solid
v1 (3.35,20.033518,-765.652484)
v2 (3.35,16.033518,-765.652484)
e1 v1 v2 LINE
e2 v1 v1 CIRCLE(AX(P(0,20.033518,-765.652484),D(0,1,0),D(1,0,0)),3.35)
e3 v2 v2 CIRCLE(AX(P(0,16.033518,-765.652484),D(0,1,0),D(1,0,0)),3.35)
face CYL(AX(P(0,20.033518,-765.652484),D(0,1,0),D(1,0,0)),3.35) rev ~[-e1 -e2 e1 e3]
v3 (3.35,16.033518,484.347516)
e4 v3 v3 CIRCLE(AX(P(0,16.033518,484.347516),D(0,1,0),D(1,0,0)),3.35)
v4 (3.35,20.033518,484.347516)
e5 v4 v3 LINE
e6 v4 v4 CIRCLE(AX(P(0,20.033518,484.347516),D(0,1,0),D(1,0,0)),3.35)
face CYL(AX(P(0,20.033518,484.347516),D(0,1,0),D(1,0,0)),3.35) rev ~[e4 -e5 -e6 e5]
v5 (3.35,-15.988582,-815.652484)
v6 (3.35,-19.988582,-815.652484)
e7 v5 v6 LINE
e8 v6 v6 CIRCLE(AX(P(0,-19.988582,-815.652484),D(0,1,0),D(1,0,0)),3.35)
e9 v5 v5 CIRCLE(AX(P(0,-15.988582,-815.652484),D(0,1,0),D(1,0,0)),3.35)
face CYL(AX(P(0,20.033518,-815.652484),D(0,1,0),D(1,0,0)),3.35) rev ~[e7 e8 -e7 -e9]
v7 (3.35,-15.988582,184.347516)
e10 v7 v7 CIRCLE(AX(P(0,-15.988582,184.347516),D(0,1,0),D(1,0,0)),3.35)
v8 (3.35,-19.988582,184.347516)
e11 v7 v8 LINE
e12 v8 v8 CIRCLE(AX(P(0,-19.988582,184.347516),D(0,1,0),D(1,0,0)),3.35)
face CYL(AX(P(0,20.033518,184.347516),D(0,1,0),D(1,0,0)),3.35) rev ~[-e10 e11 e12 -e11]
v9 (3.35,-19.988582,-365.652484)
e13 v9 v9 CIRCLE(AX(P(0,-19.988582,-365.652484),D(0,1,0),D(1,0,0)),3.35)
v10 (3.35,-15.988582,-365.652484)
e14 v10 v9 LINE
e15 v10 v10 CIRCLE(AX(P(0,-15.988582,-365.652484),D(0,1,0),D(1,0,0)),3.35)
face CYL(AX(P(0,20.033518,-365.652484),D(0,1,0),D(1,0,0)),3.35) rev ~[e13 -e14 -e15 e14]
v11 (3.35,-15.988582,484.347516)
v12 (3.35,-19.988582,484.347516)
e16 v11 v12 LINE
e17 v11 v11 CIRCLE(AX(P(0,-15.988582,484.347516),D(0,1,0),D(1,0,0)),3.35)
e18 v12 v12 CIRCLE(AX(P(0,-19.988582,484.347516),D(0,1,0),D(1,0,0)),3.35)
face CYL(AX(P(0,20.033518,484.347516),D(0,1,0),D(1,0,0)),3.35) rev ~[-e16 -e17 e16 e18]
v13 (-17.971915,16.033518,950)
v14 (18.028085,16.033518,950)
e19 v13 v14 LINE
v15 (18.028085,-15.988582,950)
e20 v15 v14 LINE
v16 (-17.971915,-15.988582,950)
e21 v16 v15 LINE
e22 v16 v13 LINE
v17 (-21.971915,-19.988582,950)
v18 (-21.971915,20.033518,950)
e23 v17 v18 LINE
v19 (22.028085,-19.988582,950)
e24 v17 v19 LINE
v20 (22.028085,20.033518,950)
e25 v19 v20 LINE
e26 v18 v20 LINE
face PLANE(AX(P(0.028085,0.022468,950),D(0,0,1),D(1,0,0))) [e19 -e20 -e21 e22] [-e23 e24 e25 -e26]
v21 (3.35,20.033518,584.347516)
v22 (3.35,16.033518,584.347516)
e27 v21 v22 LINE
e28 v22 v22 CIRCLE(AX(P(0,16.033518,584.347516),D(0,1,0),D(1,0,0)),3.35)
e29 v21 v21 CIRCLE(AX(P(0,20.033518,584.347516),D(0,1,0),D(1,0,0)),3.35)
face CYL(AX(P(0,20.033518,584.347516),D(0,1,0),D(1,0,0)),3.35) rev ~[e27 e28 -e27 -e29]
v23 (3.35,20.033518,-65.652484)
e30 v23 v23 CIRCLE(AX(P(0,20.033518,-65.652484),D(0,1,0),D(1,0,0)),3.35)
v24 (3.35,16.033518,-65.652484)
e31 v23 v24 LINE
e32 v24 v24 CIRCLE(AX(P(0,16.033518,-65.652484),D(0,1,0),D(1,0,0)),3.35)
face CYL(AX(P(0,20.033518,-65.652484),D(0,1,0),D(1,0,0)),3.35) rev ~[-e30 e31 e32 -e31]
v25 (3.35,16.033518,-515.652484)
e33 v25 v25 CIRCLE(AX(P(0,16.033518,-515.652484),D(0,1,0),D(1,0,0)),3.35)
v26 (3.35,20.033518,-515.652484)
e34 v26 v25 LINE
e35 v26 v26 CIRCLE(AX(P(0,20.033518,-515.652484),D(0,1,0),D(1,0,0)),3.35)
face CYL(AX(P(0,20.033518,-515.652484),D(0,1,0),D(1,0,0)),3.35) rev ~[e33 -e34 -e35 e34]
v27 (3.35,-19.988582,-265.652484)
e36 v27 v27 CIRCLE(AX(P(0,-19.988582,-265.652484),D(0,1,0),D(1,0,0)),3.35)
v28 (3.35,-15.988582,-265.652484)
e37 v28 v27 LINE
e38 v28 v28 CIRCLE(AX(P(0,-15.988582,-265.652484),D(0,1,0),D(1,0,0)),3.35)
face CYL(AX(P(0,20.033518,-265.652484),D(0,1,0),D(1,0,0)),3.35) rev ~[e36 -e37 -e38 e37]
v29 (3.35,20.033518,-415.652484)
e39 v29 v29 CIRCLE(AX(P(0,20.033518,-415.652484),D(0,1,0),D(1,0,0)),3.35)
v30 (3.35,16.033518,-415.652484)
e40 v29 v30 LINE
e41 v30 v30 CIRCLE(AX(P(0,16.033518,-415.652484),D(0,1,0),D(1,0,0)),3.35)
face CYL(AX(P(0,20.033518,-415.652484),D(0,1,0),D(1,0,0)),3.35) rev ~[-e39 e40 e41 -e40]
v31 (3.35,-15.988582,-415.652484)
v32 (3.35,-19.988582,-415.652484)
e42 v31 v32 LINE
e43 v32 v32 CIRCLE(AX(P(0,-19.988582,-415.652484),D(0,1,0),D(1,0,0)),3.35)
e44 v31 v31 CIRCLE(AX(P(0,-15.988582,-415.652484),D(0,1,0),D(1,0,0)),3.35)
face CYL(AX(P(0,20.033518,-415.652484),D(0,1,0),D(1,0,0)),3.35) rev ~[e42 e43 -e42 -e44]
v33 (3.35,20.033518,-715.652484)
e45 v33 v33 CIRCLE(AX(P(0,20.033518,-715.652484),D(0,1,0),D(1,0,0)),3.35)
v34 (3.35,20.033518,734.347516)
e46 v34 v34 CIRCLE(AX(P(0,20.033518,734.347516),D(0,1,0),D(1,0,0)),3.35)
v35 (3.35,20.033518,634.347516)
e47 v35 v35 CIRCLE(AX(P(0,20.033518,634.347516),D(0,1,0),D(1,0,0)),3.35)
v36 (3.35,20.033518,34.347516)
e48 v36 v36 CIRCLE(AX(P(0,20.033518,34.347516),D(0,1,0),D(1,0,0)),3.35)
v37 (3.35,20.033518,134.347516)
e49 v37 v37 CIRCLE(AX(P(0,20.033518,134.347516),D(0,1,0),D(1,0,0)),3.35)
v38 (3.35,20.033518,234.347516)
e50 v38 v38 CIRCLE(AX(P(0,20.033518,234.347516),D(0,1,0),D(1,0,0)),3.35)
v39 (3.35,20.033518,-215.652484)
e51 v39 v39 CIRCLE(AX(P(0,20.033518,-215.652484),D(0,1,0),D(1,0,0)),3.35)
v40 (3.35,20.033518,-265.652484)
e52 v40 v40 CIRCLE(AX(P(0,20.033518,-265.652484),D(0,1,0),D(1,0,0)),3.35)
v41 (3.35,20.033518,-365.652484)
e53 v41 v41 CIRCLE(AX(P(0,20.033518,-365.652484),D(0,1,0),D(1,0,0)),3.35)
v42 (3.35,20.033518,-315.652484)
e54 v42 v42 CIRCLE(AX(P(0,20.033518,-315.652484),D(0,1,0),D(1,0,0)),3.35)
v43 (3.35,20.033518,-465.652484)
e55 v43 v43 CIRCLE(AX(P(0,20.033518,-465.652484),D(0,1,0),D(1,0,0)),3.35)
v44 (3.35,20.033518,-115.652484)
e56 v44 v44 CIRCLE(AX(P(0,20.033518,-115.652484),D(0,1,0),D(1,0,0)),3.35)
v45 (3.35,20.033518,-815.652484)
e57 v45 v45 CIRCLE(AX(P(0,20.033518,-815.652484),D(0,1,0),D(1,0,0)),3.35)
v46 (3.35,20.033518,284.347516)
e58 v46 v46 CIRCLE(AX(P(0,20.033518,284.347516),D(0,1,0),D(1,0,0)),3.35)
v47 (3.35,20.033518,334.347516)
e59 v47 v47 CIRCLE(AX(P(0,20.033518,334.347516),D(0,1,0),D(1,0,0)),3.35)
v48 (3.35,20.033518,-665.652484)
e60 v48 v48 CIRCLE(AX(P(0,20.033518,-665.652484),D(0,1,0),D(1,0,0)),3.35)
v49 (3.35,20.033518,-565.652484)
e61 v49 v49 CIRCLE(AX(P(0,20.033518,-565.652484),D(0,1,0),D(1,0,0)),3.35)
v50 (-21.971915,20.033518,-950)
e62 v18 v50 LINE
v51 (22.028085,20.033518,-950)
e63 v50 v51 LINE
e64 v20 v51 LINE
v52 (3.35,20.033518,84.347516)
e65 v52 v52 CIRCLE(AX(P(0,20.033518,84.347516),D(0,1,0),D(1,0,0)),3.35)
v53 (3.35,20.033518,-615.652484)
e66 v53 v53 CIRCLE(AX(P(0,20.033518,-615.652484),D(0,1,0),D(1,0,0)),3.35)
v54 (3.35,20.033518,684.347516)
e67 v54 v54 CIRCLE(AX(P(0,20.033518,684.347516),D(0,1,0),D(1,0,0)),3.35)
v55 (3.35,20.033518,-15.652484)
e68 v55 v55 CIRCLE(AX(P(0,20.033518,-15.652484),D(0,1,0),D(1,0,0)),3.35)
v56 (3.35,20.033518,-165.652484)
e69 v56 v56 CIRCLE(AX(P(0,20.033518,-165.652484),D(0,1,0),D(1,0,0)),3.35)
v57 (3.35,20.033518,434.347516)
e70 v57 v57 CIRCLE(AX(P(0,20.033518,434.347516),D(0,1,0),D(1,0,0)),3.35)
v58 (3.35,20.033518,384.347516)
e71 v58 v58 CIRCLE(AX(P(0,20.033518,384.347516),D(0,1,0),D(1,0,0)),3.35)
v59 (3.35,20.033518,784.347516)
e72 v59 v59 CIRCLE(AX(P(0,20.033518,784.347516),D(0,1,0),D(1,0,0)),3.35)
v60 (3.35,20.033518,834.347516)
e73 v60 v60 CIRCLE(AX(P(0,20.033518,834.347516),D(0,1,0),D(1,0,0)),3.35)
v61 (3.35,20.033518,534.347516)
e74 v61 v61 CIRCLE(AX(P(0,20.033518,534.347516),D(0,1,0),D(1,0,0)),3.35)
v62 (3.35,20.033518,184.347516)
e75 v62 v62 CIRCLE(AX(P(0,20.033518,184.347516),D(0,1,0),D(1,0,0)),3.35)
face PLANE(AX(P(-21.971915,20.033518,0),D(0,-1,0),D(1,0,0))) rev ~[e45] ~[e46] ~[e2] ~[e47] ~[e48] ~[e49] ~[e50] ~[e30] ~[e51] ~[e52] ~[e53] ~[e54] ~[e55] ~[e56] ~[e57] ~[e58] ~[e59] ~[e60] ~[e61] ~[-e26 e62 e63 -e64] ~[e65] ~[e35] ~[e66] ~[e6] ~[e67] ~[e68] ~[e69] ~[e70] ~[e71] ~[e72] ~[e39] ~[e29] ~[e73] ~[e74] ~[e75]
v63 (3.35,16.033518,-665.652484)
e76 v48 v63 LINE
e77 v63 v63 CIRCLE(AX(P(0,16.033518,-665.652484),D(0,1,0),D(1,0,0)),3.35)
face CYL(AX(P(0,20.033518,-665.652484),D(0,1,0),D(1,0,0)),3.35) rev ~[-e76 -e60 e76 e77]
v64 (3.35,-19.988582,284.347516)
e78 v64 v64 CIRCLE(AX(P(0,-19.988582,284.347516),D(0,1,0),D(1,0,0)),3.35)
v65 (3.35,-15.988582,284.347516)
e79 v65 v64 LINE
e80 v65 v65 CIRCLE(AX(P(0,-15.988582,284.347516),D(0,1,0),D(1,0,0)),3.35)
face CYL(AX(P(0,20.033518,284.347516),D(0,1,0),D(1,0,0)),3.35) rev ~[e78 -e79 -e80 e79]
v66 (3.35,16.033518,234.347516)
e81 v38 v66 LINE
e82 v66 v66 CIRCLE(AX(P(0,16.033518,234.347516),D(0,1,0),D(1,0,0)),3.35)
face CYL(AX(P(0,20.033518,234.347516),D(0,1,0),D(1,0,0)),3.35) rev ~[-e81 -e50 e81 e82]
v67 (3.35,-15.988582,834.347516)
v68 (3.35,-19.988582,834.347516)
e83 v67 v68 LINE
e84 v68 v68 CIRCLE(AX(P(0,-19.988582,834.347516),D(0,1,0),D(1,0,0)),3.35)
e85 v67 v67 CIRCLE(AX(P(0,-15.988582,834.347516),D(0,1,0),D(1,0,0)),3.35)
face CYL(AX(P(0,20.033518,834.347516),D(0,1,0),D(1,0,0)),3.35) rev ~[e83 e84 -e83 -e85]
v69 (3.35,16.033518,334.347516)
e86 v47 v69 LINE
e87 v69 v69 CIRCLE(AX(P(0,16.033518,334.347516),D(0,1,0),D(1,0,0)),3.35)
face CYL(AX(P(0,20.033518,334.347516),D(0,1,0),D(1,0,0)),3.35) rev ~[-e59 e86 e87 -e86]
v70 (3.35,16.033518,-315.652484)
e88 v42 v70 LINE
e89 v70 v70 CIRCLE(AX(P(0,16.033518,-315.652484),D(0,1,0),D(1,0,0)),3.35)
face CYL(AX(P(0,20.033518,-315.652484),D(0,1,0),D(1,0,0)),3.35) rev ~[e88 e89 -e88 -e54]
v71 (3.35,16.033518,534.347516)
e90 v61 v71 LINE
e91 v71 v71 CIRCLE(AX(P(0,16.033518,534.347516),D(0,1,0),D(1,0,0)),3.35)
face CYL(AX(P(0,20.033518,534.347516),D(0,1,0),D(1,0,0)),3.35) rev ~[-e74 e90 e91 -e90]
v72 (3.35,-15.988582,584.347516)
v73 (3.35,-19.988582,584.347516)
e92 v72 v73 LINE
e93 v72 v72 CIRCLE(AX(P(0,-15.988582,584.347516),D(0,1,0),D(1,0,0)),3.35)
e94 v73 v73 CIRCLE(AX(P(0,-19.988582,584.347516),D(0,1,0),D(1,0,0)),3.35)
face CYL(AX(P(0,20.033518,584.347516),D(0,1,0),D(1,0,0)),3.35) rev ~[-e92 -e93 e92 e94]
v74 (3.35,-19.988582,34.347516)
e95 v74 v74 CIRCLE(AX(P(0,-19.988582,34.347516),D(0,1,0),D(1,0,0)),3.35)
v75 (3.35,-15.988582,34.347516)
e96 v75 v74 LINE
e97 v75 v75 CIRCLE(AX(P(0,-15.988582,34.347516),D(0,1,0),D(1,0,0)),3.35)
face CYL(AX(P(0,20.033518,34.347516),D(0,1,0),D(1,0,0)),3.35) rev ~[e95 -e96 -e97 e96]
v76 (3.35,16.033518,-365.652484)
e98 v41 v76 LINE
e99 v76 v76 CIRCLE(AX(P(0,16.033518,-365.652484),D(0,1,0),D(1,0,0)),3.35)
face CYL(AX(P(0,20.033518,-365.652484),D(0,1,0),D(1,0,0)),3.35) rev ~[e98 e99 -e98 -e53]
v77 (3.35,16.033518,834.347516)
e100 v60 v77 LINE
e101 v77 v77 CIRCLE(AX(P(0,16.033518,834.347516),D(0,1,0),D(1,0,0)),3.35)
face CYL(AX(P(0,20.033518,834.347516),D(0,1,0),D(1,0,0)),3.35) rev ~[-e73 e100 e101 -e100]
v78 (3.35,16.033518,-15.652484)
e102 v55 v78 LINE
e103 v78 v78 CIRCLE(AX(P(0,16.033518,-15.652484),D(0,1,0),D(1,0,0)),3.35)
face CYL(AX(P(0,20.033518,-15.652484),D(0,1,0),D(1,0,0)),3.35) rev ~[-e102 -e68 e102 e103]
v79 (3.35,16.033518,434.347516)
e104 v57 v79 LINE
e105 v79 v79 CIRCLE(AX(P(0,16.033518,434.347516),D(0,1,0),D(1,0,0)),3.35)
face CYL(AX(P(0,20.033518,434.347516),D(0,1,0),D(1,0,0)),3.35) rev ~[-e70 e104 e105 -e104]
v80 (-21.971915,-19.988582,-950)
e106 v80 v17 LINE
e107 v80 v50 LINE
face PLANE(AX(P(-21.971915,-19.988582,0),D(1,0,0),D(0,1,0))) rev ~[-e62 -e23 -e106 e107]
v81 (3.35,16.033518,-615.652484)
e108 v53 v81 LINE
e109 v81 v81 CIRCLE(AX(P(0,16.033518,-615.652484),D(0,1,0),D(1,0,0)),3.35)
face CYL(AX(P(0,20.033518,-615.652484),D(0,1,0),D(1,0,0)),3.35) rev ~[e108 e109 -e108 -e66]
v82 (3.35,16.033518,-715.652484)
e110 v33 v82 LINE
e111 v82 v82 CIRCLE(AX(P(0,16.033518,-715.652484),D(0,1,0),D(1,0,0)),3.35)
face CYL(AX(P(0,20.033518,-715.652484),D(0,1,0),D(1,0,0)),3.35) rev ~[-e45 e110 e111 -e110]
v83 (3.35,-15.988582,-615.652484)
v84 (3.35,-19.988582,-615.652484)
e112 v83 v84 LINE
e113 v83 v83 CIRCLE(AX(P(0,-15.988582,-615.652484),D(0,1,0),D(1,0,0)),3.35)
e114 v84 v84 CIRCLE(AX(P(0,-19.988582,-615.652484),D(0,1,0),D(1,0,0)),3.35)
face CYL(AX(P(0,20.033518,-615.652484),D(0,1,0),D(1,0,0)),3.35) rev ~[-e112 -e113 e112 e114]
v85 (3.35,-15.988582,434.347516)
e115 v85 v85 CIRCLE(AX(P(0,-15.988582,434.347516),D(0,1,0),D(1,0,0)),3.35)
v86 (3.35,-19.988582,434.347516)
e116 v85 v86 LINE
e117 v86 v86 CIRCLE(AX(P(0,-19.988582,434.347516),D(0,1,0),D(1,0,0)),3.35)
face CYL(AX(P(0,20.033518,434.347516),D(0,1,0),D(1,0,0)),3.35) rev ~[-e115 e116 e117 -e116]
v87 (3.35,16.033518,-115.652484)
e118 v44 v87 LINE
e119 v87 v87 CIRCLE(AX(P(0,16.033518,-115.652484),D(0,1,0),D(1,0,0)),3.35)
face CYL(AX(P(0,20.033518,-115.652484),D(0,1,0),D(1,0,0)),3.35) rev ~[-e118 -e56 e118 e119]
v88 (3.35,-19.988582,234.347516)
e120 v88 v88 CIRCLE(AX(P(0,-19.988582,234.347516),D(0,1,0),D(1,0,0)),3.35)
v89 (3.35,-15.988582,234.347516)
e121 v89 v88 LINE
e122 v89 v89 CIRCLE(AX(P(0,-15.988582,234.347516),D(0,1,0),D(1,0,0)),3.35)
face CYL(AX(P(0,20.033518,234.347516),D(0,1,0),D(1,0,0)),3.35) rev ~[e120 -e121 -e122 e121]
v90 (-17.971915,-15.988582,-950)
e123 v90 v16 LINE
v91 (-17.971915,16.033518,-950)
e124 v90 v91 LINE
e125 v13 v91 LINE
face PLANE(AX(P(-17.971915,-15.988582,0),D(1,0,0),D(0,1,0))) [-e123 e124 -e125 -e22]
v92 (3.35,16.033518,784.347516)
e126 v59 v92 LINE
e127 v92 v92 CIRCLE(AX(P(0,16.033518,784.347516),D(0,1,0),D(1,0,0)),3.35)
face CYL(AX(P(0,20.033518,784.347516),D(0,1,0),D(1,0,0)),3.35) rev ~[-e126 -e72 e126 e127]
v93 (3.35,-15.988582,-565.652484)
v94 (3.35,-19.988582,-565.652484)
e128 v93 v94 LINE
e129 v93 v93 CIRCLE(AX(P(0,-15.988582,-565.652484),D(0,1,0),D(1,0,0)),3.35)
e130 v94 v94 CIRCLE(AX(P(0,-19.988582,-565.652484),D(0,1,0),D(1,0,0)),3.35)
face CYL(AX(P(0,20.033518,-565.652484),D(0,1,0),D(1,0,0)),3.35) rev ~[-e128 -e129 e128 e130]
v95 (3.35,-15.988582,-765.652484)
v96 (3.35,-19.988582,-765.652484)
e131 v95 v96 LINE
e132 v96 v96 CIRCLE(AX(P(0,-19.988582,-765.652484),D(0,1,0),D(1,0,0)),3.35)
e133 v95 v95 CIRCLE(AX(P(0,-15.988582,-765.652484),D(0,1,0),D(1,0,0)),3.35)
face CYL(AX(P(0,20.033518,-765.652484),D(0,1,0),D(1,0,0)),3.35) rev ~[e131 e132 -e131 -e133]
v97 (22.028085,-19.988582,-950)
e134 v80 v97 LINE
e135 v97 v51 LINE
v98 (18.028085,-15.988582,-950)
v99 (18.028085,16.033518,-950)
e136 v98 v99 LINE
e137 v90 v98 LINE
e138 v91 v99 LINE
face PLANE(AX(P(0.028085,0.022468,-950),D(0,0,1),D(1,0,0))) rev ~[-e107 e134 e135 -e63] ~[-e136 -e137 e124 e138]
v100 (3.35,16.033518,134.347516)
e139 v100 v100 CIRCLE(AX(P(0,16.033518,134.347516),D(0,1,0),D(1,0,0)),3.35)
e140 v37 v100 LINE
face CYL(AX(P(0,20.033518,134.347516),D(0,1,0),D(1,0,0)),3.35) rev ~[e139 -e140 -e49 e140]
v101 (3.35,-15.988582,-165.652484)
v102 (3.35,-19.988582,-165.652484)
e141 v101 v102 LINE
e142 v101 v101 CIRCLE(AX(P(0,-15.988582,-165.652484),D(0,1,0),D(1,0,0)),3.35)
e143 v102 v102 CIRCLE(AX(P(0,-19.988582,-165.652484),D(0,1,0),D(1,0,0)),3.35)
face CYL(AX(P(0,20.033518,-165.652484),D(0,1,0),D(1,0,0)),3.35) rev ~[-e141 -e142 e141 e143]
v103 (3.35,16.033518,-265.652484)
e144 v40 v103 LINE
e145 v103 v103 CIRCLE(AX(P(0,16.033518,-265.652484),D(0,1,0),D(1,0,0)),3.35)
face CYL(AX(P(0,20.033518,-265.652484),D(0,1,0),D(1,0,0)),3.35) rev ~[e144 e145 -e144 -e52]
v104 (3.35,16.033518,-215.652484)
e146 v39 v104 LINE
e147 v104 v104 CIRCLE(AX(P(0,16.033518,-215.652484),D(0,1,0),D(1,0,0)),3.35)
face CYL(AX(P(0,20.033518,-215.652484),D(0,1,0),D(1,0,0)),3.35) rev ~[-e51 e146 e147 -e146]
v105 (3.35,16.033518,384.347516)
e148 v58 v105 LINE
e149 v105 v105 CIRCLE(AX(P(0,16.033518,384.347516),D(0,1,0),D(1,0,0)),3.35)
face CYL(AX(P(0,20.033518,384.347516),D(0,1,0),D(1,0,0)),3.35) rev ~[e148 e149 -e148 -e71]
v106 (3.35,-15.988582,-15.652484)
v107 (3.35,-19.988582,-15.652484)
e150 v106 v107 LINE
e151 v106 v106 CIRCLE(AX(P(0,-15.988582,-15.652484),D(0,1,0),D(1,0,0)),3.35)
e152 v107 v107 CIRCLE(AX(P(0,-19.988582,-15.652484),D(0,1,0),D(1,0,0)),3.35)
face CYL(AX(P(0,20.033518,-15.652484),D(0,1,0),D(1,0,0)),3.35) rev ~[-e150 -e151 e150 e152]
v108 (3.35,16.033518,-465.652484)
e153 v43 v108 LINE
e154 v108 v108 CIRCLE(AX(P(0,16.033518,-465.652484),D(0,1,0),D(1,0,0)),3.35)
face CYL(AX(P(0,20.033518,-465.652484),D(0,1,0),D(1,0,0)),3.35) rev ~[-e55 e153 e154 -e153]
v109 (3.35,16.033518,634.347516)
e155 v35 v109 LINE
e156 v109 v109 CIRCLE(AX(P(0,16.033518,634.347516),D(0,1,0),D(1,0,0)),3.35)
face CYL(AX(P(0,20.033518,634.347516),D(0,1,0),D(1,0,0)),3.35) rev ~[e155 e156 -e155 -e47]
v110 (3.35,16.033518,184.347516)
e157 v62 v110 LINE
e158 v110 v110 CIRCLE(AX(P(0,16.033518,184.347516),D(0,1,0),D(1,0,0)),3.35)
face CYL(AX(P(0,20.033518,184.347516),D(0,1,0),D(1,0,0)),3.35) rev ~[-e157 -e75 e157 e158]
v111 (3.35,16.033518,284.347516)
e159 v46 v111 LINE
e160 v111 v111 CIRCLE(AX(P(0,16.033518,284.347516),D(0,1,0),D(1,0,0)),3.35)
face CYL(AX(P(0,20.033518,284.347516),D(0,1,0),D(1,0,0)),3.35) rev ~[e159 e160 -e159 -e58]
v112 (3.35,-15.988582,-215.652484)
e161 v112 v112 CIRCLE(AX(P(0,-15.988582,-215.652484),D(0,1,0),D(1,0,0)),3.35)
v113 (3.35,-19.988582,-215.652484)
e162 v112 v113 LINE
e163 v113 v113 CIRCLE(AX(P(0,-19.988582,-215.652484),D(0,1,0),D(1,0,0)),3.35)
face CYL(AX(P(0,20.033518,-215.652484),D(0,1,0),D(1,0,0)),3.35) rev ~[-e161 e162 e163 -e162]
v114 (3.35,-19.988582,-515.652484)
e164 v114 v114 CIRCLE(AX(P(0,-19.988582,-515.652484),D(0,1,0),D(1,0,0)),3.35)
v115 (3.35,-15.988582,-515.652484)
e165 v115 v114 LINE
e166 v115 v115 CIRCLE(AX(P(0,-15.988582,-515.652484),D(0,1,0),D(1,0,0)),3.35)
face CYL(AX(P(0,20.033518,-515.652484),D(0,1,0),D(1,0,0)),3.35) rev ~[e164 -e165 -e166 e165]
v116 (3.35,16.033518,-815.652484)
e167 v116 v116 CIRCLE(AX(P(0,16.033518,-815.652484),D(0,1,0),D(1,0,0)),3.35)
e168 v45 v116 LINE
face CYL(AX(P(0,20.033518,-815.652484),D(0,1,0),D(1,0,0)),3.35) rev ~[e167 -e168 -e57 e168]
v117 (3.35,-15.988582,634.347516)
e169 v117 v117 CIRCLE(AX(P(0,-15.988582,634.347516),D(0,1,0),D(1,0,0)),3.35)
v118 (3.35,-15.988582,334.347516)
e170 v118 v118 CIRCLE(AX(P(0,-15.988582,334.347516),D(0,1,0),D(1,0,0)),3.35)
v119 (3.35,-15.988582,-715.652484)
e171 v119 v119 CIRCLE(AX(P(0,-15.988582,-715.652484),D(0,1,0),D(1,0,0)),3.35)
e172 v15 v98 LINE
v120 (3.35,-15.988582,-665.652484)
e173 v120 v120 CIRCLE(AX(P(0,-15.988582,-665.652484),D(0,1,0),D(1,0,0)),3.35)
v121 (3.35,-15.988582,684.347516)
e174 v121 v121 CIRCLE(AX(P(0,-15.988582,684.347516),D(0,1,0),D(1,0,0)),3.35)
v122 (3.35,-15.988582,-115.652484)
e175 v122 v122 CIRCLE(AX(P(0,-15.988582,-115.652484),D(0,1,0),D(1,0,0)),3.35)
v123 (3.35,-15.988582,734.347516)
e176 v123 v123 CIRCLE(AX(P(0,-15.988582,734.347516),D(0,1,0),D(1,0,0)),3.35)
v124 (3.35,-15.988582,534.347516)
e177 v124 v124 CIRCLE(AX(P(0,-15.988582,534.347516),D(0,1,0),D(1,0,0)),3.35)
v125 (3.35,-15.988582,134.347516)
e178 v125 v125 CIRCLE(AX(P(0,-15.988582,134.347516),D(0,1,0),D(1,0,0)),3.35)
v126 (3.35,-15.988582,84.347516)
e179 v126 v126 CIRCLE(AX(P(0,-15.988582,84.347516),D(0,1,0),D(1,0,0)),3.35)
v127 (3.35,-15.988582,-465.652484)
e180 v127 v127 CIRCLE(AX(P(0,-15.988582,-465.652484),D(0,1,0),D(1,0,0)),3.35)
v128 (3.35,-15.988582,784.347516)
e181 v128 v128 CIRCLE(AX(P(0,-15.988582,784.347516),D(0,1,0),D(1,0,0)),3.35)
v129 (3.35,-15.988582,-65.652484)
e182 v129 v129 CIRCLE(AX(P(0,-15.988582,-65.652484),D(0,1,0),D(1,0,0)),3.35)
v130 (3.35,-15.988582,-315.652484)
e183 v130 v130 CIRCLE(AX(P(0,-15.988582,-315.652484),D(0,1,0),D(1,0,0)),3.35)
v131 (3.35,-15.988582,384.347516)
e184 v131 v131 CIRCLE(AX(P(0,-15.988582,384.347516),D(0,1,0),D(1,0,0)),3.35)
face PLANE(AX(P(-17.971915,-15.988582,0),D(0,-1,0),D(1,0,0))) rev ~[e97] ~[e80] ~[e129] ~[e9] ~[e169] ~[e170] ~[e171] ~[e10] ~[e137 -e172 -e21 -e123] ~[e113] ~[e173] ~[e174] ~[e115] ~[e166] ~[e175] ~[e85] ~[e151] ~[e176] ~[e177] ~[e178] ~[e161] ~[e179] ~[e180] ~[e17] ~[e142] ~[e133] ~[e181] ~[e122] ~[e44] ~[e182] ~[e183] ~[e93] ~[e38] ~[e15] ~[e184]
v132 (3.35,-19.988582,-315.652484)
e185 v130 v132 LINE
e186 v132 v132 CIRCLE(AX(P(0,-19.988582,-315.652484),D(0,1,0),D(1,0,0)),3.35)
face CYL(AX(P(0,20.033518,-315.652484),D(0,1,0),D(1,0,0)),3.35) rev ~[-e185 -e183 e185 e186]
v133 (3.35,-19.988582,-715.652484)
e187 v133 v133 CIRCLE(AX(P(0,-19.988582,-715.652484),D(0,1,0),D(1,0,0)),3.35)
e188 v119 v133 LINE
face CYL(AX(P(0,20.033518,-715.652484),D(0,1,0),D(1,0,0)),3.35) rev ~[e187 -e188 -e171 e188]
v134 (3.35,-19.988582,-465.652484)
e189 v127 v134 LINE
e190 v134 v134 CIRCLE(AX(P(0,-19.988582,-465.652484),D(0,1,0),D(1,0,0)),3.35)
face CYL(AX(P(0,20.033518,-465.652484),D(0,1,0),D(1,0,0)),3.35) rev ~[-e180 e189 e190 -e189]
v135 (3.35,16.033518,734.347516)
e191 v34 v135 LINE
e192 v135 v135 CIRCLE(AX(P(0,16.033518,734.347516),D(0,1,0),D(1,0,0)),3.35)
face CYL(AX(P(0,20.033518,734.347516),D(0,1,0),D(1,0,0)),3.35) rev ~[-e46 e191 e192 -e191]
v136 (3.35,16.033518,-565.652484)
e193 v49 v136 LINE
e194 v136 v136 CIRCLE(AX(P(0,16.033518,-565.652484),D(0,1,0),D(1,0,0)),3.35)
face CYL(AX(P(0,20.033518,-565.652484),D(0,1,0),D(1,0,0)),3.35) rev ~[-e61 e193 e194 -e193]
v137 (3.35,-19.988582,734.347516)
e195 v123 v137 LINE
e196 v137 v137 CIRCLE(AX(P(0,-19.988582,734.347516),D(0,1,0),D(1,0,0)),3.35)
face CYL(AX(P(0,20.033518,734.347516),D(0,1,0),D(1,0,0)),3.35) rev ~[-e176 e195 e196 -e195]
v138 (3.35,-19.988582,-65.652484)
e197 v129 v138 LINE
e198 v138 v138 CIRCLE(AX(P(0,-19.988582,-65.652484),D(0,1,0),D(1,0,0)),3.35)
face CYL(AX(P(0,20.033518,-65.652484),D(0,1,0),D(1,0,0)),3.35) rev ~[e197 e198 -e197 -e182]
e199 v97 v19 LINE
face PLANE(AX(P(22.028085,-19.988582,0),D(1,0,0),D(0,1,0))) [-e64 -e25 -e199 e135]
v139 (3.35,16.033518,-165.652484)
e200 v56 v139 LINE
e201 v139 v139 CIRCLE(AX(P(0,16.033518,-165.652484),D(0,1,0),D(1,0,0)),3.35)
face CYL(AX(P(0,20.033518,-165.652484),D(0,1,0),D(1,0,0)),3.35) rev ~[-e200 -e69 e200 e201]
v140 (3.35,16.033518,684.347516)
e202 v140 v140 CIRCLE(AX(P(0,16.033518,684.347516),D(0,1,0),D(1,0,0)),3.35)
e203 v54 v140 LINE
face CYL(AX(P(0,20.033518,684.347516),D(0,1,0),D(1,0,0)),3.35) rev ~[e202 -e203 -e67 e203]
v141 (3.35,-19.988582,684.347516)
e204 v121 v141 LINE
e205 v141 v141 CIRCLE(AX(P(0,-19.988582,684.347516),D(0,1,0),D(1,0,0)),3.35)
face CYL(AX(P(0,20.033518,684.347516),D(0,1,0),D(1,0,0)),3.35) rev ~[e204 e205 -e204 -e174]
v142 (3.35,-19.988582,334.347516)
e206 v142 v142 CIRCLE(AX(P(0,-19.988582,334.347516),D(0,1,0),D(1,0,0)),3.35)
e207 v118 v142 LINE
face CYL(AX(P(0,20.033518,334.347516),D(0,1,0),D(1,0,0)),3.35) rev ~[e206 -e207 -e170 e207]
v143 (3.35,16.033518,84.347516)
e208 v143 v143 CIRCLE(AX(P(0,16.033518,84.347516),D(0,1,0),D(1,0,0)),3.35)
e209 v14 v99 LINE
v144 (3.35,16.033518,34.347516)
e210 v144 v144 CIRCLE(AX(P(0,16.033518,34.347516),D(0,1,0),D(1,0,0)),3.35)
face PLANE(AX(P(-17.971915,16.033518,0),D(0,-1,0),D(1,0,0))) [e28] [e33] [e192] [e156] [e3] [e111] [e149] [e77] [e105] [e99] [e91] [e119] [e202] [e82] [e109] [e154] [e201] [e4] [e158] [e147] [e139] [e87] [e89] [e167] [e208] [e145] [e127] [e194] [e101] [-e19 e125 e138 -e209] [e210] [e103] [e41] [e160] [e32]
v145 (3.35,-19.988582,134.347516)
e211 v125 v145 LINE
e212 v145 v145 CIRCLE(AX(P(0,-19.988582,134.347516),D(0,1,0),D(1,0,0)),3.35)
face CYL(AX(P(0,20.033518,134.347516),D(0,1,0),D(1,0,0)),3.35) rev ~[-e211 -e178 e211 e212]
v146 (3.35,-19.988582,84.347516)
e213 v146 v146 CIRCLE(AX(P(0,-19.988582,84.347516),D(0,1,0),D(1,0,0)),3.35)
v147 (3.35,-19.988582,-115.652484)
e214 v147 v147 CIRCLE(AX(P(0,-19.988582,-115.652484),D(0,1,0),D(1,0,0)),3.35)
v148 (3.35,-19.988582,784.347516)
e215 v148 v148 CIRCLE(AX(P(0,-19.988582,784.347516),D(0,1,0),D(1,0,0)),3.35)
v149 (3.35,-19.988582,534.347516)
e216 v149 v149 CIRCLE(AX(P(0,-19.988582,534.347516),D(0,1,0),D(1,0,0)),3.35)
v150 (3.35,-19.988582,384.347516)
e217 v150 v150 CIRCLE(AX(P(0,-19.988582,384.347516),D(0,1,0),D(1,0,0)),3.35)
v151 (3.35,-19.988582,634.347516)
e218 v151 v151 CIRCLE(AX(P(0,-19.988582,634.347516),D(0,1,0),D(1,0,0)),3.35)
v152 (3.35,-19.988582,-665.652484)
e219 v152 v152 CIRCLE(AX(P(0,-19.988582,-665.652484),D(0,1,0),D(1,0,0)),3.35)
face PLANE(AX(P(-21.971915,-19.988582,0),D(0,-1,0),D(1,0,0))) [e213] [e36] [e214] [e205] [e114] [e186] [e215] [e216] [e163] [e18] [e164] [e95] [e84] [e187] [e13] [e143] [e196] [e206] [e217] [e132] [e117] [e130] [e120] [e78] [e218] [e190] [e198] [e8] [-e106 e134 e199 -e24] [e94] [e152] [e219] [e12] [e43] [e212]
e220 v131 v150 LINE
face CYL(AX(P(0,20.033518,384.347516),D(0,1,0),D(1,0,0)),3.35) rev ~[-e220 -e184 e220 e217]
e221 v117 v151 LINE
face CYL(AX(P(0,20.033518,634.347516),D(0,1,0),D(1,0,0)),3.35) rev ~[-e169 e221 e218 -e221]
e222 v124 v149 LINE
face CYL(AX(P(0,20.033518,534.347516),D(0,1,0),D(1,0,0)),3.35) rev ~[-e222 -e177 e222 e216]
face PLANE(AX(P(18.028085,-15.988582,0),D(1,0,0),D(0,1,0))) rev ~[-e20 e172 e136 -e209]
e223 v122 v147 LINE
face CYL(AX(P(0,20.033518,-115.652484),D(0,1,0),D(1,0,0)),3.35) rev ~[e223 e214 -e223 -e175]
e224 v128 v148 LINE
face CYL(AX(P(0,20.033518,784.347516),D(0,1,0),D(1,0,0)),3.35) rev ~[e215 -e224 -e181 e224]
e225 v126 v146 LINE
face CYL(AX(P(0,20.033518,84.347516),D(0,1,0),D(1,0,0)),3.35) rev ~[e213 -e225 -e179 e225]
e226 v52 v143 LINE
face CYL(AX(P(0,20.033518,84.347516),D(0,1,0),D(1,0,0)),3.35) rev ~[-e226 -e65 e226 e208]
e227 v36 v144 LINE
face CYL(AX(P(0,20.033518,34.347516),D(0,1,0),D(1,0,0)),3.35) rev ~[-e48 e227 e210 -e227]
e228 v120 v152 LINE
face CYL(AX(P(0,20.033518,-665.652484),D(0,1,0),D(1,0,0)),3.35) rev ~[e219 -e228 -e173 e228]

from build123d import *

# Parameters (mm, degrees)
SKETCH2_W           = 44
SKETCH2_H           = 40.022099447
SKETCH2_W_2         = 36
SKETCH2_H_2         = 32.022099447
EXTRUDE_THIN1_DEPTH = 950
SKETCH3_R           = 3.35
CUT_EXTRUDE1_DEPTH  = 41.022099448


with BuildPart() as part:
    # Sketch2 → Extrude-Thin1 (new body, symmetric)
    with BuildSketch(Plane.XY):
        with Locations((0.028084851, 0.02246788)):
            Rectangle(SKETCH2_W, SKETCH2_H)
        with Locations((0.028084851, 0.02246788)):
            Rectangle(SKETCH2_W_2, SKETCH2_H_2, mode=Mode.SUBTRACT)
    extrude(amount=EXTRUDE_THIN1_DEPTH, both=True)

    # Sketch3 → Cut-Extrude1 (cut, through all)
    with BuildSketch(Plane(origin=(0, 20.033517604, 0), x_dir=(1, 0, 0), z_dir=(0, 1, 0))):
        with Locations((0, 815.652483779)):
            Circle(SKETCH3_R)
        with Locations((0, 765.652483779)):
            Circle(SKETCH3_R)
        with Locations((0, 715.652483779)):
            Circle(SKETCH3_R)
        with Locations((0, 665.652483779)):
            Circle(SKETCH3_R)
        with Locations((0, 615.652483779)):
            Circle(SKETCH3_R)
        with Locations((0, 565.652483779)):
            Circle(SKETCH3_R)
        with Locations((0, 515.652483779)):
            Circle(SKETCH3_R)
        with Locations((0, 465.652483779)):
            Circle(SKETCH3_R)
        with Locations((0, 415.652483779)):
            Circle(SKETCH3_R)
        with Locations((0, 365.652483779)):
            Circle(SKETCH3_R)
        with Locations((0, 315.652483779)):
            Circle(SKETCH3_R)
        with Locations((0, 265.652483779)):
            Circle(SKETCH3_R)
        with Locations((0, 215.652483779)):
            Circle(SKETCH3_R)
        with Locations((0, 165.652483779)):
            Circle(SKETCH3_R)
        with Locations((0, 115.652483779)):
            Circle(SKETCH3_R)
        with Locations((0, 65.652483779)):
            Circle(SKETCH3_R)
        with Locations((0, 15.652483779)):
            Circle(SKETCH3_R)
        with Locations((0, -34.347516221)):
            Circle(SKETCH3_R)
        with Locations((0, -84.347516221)):
            Circle(SKETCH3_R)
        with Locations((0, -134.347516221)):
            Circle(SKETCH3_R)
        with Locations((0, -184.347516221)):
            Circle(SKETCH3_R)
        with Locations((0, -234.347516221)):
            Circle(SKETCH3_R)
        with Locations((0, -284.347516221)):
            Circle(SKETCH3_R)
        with Locations((0, -334.347516221)):
            Circle(SKETCH3_R)
        with Locations((0, -384.347516221)):
            Circle(SKETCH3_R)
        with Locations((0, -434.347516221)):
            Circle(SKETCH3_R)
        with Locations((0, -484.347516221)):
            Circle(SKETCH3_R)
        with Locations((0, -534.347516221)):
            Circle(SKETCH3_R)
        with Locations((0, -584.347516221)):
            Circle(SKETCH3_R)
        with Locations((0, -634.347516221)):
            Circle(SKETCH3_R)
        with Locations((0, -684.347516221)):
            Circle(SKETCH3_R)
        with Locations((0, -734.347516221)):
            Circle(SKETCH3_R)
        with Locations((0, -784.347516221)):
            Circle(SKETCH3_R)
        with Locations((0, -834.347516221)):
            Circle(SKETCH3_R)
    extrude(amount=-CUT_EXTRUDE1_DEPTH, mode=Mode.SUBTRACT)


solid = part.part
